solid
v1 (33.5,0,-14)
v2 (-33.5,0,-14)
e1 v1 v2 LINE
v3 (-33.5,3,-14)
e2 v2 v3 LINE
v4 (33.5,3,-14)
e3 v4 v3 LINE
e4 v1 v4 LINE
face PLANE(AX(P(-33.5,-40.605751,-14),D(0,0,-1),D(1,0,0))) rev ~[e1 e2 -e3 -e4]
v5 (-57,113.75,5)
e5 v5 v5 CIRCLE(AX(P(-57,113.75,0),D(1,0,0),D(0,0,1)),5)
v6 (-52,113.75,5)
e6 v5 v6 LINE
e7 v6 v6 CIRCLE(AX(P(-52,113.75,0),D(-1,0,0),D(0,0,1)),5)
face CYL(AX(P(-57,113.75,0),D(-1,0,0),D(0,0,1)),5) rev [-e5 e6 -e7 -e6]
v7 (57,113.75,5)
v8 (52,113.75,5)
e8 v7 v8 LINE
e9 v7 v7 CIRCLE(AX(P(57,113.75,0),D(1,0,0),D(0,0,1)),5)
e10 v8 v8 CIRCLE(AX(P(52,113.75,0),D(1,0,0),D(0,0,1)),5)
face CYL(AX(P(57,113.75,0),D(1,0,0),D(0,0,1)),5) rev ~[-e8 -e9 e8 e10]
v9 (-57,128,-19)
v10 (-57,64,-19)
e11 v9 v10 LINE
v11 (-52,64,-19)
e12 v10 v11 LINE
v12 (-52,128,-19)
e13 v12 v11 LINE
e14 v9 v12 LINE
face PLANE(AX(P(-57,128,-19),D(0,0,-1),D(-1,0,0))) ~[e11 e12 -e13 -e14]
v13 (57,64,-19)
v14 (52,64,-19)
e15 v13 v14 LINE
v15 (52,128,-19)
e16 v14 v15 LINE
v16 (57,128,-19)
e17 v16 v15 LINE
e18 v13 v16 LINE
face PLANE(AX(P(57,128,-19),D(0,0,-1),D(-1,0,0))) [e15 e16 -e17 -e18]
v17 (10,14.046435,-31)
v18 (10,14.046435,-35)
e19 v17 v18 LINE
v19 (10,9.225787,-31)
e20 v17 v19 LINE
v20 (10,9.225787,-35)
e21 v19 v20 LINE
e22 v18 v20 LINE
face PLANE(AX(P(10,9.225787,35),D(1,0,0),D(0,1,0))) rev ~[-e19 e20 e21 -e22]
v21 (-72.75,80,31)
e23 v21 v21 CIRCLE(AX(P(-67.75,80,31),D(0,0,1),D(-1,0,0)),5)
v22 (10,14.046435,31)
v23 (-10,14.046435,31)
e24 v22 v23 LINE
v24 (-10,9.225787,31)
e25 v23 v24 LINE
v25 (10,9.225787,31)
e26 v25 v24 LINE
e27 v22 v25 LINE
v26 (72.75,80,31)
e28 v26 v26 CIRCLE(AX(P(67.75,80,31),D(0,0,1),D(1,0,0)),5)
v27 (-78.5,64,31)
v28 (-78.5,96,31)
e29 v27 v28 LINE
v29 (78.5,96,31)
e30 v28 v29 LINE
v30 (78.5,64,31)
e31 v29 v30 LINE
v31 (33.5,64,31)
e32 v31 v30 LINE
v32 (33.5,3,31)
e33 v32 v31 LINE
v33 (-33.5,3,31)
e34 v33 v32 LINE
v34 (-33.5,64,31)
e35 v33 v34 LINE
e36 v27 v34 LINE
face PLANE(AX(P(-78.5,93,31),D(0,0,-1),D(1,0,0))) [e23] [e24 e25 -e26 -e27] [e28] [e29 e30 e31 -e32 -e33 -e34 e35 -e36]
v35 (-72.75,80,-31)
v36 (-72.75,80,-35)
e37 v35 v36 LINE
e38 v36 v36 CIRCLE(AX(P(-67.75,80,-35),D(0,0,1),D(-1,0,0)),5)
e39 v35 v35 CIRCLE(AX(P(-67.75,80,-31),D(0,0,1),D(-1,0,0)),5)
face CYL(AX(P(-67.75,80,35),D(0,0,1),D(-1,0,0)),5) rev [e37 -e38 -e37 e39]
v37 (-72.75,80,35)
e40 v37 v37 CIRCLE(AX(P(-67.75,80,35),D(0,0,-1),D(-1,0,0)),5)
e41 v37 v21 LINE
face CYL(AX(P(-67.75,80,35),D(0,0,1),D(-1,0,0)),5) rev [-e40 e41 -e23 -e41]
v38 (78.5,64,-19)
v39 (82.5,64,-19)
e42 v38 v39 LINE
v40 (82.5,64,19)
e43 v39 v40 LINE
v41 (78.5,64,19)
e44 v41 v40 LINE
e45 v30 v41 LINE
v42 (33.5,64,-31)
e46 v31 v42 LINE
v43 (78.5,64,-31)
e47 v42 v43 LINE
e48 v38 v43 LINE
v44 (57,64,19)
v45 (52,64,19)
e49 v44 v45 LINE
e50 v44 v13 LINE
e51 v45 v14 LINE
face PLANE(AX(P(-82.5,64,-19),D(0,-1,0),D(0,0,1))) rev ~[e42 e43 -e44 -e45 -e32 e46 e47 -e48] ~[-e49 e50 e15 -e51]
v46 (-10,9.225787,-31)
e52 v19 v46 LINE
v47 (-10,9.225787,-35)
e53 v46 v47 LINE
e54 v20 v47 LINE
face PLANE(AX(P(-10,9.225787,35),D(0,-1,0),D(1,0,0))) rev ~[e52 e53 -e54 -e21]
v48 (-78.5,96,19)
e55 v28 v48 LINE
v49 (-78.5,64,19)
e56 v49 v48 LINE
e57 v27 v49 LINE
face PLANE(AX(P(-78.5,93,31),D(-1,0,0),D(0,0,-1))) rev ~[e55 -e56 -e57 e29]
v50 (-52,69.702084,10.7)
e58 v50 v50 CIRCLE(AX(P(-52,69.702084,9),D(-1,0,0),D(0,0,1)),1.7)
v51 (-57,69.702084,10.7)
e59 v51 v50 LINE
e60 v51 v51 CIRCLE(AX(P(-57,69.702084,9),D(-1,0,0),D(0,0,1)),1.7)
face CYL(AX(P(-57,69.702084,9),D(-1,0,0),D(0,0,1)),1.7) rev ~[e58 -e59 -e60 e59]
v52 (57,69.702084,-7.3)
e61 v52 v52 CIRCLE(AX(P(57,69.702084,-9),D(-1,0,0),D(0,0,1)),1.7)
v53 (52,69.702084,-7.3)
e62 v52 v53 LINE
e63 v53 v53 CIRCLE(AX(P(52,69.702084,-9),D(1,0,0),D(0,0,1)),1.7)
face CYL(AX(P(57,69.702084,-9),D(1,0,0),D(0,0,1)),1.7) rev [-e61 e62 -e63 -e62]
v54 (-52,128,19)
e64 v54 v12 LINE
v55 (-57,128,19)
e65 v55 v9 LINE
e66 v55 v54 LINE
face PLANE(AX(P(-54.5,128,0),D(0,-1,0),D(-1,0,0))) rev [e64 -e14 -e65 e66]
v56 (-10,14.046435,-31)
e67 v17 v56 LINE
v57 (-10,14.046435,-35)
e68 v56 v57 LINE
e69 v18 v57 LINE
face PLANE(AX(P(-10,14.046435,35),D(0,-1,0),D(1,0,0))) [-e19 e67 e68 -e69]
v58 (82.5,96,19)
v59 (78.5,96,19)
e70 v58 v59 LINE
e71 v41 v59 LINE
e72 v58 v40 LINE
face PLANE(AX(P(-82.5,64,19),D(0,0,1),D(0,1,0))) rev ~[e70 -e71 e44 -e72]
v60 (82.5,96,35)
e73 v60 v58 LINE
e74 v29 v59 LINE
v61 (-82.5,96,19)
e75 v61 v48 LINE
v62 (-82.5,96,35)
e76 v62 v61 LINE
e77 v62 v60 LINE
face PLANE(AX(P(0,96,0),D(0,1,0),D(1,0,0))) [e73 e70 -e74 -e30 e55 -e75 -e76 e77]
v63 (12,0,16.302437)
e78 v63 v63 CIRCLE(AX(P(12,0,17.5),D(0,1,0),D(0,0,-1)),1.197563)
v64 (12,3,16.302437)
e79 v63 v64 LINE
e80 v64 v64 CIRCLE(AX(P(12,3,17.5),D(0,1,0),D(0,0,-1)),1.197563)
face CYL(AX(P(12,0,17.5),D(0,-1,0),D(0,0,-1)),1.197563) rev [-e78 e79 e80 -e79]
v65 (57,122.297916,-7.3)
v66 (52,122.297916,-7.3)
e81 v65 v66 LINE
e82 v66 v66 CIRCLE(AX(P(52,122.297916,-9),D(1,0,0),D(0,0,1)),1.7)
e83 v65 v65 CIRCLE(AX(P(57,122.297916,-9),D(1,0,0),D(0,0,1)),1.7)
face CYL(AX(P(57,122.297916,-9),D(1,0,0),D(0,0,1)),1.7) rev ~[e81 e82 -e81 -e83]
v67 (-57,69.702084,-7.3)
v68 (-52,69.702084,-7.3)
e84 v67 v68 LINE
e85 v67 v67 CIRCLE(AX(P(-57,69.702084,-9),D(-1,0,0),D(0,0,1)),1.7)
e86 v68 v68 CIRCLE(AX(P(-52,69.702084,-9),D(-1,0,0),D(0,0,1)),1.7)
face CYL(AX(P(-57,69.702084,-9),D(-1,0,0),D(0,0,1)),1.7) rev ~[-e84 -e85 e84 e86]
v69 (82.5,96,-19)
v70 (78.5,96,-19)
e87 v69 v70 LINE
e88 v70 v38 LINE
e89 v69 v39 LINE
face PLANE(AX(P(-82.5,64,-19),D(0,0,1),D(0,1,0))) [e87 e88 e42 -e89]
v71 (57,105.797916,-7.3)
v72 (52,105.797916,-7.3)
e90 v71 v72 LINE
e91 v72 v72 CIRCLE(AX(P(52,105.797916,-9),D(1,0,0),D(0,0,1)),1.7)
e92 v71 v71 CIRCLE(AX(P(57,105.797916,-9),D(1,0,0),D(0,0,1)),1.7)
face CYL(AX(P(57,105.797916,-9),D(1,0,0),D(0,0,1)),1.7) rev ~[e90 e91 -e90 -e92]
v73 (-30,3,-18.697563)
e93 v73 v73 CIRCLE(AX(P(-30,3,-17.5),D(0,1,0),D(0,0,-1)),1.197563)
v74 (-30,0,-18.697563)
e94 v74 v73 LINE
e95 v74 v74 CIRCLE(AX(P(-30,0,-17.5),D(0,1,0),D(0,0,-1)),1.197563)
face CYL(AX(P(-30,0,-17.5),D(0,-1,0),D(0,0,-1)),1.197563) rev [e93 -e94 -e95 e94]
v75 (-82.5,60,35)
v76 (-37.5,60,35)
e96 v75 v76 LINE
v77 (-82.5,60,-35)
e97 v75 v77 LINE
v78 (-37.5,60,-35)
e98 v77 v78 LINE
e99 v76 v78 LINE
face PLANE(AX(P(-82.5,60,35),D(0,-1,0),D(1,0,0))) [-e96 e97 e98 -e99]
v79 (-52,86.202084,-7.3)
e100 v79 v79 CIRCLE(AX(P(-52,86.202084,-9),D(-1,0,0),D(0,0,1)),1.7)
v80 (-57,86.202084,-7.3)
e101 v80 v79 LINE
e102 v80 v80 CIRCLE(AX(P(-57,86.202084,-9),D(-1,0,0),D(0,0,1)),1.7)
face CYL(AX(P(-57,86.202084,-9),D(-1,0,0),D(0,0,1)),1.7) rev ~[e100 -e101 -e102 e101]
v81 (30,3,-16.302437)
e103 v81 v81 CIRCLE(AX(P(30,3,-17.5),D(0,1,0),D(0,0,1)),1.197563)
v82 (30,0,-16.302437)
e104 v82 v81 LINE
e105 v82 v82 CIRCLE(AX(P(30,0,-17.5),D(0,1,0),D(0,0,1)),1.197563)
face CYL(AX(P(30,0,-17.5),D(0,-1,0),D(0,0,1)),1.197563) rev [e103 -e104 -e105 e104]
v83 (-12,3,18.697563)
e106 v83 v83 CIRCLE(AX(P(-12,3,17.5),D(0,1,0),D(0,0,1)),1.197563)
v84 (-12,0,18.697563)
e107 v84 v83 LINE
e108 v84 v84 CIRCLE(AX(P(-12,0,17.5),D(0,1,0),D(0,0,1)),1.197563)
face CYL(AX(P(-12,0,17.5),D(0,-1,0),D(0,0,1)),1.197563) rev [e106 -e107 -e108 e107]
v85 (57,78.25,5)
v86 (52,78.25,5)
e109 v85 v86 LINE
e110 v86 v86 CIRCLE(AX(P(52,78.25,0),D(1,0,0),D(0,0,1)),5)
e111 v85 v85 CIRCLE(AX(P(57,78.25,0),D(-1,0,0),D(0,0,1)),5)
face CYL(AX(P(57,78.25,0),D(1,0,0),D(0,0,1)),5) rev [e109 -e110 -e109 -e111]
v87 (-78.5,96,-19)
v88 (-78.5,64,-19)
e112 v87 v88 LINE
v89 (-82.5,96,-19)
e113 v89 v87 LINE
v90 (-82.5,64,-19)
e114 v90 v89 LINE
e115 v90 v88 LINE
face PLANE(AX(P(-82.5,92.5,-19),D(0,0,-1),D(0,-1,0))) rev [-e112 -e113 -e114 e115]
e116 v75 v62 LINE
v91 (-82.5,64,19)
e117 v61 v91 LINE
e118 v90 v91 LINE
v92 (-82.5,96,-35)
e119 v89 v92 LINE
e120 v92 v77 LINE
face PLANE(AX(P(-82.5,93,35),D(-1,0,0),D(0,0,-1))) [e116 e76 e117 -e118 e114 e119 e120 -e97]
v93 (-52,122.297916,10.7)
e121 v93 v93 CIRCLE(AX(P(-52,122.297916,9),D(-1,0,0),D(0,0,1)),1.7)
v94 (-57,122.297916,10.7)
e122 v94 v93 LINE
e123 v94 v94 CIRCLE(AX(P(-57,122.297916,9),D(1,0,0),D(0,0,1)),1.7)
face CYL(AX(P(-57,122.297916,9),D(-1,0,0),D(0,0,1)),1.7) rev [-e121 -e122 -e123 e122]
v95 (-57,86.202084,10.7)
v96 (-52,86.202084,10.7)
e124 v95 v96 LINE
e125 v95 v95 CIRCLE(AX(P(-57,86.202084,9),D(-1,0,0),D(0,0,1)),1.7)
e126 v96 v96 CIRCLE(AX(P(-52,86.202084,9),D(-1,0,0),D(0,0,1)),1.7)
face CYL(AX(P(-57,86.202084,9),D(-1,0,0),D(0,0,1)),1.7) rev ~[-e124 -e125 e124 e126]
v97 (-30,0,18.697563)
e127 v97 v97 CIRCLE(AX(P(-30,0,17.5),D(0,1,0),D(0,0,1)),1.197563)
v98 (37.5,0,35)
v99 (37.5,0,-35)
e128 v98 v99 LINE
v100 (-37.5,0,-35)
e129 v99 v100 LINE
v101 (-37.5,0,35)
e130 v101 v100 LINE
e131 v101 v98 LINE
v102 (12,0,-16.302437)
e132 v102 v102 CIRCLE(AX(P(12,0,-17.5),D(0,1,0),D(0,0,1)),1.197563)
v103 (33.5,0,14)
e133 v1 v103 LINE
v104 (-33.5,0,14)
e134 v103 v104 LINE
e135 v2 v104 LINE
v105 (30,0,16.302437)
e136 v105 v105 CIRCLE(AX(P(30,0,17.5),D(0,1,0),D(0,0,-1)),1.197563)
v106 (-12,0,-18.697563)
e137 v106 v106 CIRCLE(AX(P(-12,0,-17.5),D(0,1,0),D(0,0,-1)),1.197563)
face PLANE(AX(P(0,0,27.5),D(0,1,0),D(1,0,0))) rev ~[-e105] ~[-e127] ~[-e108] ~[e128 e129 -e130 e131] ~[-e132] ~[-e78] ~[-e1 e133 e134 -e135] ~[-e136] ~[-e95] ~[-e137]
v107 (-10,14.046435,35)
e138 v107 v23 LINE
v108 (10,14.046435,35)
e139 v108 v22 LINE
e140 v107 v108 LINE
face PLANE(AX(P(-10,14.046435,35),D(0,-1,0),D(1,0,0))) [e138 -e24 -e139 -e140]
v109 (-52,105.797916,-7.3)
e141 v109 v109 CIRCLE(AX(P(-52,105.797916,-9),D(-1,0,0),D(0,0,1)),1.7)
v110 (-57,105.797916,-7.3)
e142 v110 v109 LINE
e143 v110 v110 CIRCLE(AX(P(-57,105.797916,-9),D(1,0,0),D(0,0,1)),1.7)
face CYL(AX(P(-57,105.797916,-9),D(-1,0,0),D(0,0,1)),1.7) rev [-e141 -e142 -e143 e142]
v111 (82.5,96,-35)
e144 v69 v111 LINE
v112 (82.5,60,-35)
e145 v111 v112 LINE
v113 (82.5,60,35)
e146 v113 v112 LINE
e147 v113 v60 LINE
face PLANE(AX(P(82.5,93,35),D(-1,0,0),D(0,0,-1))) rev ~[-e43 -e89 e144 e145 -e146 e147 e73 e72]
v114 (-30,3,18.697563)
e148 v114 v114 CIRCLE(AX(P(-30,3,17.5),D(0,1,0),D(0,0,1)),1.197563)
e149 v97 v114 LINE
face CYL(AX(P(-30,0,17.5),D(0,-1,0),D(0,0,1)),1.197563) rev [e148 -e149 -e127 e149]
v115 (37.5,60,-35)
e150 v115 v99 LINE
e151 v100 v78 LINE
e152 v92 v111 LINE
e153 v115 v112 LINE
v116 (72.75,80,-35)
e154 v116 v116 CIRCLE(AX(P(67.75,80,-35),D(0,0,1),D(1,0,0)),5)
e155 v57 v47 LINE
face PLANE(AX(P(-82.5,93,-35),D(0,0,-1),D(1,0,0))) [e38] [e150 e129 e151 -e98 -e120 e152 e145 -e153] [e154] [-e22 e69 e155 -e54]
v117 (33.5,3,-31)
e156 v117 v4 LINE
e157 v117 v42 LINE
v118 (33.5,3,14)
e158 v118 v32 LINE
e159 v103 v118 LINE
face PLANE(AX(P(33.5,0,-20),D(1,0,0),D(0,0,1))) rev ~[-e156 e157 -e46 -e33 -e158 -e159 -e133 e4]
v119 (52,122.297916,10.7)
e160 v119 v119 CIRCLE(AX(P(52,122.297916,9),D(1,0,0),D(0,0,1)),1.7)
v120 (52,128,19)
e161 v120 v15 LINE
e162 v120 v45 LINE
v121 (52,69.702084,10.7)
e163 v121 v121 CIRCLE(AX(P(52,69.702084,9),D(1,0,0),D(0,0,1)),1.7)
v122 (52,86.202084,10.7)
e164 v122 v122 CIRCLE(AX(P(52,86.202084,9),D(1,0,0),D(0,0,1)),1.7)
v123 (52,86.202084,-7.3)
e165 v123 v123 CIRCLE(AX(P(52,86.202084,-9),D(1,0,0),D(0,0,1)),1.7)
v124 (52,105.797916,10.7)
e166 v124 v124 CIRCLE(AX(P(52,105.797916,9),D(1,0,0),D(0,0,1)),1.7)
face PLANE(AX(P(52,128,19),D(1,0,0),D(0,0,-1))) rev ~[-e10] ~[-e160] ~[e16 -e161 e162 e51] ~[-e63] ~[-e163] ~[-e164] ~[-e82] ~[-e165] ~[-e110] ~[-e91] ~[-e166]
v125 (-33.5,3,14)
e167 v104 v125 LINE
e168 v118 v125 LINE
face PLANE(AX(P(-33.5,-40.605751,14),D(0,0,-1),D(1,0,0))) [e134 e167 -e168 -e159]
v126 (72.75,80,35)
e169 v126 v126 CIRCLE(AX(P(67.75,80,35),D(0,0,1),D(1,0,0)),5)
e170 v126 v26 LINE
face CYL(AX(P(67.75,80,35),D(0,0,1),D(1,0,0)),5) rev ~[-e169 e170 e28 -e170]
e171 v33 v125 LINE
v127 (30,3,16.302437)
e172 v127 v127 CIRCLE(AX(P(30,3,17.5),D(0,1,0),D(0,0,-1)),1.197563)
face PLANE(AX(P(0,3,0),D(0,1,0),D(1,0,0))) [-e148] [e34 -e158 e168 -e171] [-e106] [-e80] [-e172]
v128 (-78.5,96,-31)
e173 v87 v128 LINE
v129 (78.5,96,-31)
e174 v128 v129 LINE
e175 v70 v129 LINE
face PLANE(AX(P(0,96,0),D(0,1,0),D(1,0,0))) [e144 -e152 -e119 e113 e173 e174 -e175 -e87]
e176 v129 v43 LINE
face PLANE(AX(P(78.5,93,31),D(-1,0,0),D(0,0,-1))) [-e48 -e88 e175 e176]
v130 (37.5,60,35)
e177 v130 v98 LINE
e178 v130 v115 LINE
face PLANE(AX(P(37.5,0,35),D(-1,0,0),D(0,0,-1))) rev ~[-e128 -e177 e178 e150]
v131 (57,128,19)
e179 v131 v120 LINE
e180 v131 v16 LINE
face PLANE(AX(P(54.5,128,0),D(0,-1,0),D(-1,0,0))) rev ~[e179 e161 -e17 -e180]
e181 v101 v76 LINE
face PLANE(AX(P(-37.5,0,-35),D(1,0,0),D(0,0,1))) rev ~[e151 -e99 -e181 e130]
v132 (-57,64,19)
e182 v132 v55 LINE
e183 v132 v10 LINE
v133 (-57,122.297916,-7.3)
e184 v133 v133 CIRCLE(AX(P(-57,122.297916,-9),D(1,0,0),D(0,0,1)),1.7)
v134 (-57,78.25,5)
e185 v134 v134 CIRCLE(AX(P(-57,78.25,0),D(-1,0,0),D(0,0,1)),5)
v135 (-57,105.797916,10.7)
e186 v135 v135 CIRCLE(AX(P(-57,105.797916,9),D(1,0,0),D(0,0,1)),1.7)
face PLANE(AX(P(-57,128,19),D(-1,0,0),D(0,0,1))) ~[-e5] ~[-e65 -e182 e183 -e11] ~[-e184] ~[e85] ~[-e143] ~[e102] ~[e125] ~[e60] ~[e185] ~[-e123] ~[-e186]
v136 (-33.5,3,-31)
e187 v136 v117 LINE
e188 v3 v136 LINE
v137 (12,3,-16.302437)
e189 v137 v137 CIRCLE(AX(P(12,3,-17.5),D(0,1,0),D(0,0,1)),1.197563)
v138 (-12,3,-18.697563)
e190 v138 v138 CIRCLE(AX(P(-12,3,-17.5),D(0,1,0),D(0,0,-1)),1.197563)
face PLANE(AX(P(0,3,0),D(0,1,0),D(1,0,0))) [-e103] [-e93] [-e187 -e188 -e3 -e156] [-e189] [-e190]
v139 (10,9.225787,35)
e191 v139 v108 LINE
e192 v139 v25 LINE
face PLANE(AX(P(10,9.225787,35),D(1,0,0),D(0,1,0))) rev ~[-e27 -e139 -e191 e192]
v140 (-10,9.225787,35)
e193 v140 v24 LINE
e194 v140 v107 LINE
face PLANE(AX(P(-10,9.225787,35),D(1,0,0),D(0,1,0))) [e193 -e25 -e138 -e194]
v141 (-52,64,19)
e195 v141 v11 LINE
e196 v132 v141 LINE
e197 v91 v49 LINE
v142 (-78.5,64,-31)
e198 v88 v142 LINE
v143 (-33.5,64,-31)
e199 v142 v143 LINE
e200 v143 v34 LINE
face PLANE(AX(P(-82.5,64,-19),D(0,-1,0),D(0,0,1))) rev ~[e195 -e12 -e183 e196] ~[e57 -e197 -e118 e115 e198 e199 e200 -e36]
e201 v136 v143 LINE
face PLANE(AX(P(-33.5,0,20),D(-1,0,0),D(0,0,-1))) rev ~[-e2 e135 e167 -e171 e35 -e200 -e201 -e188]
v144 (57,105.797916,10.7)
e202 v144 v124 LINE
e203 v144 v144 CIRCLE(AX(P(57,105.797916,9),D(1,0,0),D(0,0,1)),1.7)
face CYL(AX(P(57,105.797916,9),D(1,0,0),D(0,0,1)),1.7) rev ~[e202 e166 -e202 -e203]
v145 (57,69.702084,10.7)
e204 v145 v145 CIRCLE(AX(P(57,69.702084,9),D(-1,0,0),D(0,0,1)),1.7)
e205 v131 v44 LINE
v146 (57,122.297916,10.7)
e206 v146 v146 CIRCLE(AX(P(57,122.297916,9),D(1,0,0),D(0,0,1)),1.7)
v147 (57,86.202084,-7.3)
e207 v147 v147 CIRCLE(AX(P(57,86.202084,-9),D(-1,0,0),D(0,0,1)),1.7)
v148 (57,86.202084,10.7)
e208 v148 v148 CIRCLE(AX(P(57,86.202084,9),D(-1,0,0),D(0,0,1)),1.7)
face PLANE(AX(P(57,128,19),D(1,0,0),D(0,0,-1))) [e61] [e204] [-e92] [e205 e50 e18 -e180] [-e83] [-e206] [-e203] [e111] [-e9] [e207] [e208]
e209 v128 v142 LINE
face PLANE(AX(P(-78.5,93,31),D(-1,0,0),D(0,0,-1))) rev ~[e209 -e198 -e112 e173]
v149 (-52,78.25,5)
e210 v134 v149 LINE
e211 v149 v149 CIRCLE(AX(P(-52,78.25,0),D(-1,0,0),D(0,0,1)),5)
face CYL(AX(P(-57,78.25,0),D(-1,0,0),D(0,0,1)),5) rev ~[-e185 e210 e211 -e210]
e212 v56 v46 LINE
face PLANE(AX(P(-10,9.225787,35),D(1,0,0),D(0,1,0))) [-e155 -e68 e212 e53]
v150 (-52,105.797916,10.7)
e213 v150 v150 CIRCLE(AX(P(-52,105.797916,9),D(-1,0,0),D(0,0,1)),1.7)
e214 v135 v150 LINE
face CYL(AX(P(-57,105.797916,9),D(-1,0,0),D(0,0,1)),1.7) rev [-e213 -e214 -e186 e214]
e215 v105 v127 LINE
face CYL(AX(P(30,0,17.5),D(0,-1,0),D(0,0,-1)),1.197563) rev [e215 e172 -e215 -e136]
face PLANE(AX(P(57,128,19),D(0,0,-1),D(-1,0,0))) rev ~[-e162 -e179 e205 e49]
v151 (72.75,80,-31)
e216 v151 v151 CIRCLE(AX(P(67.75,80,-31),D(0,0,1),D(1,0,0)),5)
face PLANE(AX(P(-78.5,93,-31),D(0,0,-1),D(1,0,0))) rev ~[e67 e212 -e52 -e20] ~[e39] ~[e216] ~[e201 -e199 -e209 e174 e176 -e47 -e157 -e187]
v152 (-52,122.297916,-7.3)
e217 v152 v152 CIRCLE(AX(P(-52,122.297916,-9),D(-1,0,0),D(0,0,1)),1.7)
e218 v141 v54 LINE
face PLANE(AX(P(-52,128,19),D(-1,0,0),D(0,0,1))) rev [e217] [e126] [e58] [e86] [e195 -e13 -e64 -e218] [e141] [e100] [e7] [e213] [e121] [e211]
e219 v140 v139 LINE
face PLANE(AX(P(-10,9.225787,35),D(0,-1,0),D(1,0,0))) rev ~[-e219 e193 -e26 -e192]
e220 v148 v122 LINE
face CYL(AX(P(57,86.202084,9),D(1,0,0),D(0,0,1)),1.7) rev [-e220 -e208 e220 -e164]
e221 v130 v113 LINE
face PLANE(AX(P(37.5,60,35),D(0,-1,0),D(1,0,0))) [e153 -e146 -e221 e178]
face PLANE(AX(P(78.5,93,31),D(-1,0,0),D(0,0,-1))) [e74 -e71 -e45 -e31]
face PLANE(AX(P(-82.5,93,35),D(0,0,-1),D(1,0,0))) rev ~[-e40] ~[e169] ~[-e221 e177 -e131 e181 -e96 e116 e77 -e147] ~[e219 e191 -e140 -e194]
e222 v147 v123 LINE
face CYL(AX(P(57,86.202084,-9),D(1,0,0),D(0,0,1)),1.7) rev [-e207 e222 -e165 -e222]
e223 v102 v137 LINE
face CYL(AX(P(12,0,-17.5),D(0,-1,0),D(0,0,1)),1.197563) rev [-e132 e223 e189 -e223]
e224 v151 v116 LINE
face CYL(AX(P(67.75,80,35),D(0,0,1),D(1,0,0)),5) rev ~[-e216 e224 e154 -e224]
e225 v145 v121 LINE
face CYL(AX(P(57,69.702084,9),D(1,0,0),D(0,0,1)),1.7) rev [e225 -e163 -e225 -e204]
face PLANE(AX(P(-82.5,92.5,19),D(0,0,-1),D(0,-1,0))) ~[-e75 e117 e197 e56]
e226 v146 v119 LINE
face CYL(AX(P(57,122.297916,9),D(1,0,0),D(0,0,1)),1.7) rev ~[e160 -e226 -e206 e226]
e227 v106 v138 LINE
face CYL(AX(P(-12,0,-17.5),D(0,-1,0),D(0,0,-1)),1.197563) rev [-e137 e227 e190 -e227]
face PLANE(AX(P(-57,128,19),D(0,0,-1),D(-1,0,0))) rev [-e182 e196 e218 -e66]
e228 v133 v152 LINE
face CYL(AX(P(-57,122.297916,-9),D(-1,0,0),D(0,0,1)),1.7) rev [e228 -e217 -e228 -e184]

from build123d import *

# Parameters (mm, degrees)
SKETCH1_W                 = 75
SKETCH1_H                 = 40
SKETCH1_R                 = 5
SKETCH1_R_2               = 1.7
SKETCH1_R_3               = 1.197563381
SKETCH1_W_2               = 5
SKETCH1_H_2               = 20
BOSS_EXTRUDE1_DEPTH       = 3
CUT_EXTRUDE1_DEPTH        = 43.605750786
CUT_EXTRUDE1_DEPTH_BACK   = 43.605750786
SKETCH2_W                 = 67
SKETCH2_H                 = 28
BOSS_EXTRUDE3_DEPTH       = 90
BOSS_EXTRUDE3_DEPTH_BACK  = 3
SKETCH6_W                 = 67
SKETCH6_H                 = 11
CUT_EXTRUDE4_DEPTH        = 104.591746776
SKETCH7_W                 = 70
SKETCH7_H                 = 37
BOSS_EXTRUDE4_DEPTH       = 45
SKETCH8_W                 = 45
SKETCH8_H                 = 62
CUT_EXTRUDE6_DEPTH        = 29
SKETCH11_W                = 45
SKETCH11_H                = 4
CUT_EXTRUDE9_DEPTH        = 143.671826231
SKETCH9_W                 = 38
SKETCH9_H                 = 28.5
CUT_EXTRUDE10_DEPTH       = 193.611006954
SKETCH13_W                = 5
SKETCH13_H                = 38
BOSS_EXTRUDE5_DEPTH       = 32
SKETCH14_R                = 5
SKETCH14_R_2              = 1.7
CUT_EXTRUDE11_DEPTH       = 32
SKETCH15_W                = 165
SKETCH15_H                = 70
SKETCH15_W_2              = 157
SKETCH15_H_2              = 62
BOSS_EXTRUDE6_DEPTH       = 3
SKETCH16_W                = 20
SKETCH16_H                = 4.820648258
CUT_EXTRUDE12_DEPTH       = 145.645255712
SKETCH18_R                = 5
CUT_EXTRUDE14_DEPTH       = 145.645255712
MIRROR6_COPY_1_SKETCH_W   = 5
MIRROR6_COPY_1_SKETCH_H   = 38
MIRROR6_COPY_1_DEPTH      = 32
MIRROR6_COPY_2_SKETCH_R   = 5
MIRROR6_COPY_2_SKETCH_R_2 = 1.7
MIRROR6_COPY_2_DEPTH      = 32
SKETCH19_W                = 38
SKETCH19_H                = 3.5
CUT_EXTRUDE15_DEPTH       = 10


with BuildPart() as part:
    # Sketch1 → Boss-Extrude1 (new body)
    with BuildSketch(Plane(origin=(0, 0, 0), x_dir=(1, 0, 0), z_dir=(0, 1, 0))):
        Rectangle(SKETCH1_W, SKETCH1_H)
        with Locations(Location((-21, 0, 0), (0, 0, 270))):
            Circle(SKETCH1_R, mode=Mode.SUBTRACT)
        with Locations(Location((-30, 8.25, 0), (0, 0, 270))):
            Circle(SKETCH1_R_2, mode=Mode.SUBTRACT)
        with Locations(Location((-12, 8.25, 0), (0, 0, 270))):
            Circle(SKETCH1_R_2, mode=Mode.SUBTRACT)
        with Locations(Location((-12, -8.25, 0), (0, 0, 270))):
            Circle(SKETCH1_R_2, mode=Mode.SUBTRACT)
        with Locations(Location((-30, -8.25, 0), (0, 0, 270))):
            Circle(SKETCH1_R_2, mode=Mode.SUBTRACT)
        with Locations(Location((12, 8.25, 0), (0, 0, 90))):
            Circle(SKETCH1_R_2, mode=Mode.SUBTRACT)
        with Locations(Location((12, -8.25, 0), (0, 0, 90))):
            Circle(SKETCH1_R_2, mode=Mode.SUBTRACT)
        with Locations(Location((21, 0, 0), (0, 0, 90))):
            Circle(SKETCH1_R, mode=Mode.SUBTRACT)
        with Locations(Location((30, -8.25, 0), (0, 0, 90))):
            Circle(SKETCH1_R_2, mode=Mode.SUBTRACT)
        with Locations(Location((30, 8.25, 0), (0, 0, 90))):
            Circle(SKETCH1_R_2, mode=Mode.SUBTRACT)
        with Locations(Location((-30, -17.5, 0), (0, 0, 270))):
            Circle(SKETCH1_R_3, mode=Mode.SUBTRACT)
        with Locations(Location((-12, -17.5, 0), (0, 0, 270))):
            Circle(SKETCH1_R_3, mode=Mode.SUBTRACT)
        with Locations(Location((12, -17.5, 0), (0, 0, 90))):
            Circle(SKETCH1_R_3, mode=Mode.SUBTRACT)
        with Locations(Location((30, -17.5, 0), (0, 0, 90))):
            Circle(SKETCH1_R_3, mode=Mode.SUBTRACT)
        with Locations(Location((30, 17.5, 0), (0, 0, 270))):
            Circle(SKETCH1_R_3, mode=Mode.SUBTRACT)
        with Locations(Location((12, 17.5, 0), (0, 0, 270))):
            Circle(SKETCH1_R_3, mode=Mode.SUBTRACT)
        with Locations(Location((-12, 17.5, 0), (0, 0, 90))):
            Circle(SKETCH1_R_3, mode=Mode.SUBTRACT)
        with Locations(Location((-30, 17.5, 0), (0, 0, 90))):
            Circle(SKETCH1_R_3, mode=Mode.SUBTRACT)
        Rectangle(SKETCH1_W_2, SKETCH1_H_2, mode=Mode.SUBTRACT)
    extrude(amount=BOSS_EXTRUDE1_DEPTH)

    # Sketch2 → Cut-Extrude1 (cut, two sides: drawn at the far end of the back side and taken through both)
    with BuildSketch(Plane(origin=(0, 3, 0), x_dir=(1, 0, 0), z_dir=(0, 1, 0)).offset(-CUT_EXTRUDE1_DEPTH_BACK)):
        Rectangle(SKETCH2_W, SKETCH2_H)
    extrude(amount=CUT_EXTRUDE1_DEPTH + CUT_EXTRUDE1_DEPTH_BACK, mode=Mode.SUBTRACT)

    # Sketch3 → Boss-Extrude3 (add, two sides: drawn at the far end of the back side and taken through both)
    with BuildSketch(Plane(origin=(0, 3, 0), x_dir=(1, 0, 0), z_dir=(0, 1, 0)).offset(-BOSS_EXTRUDE3_DEPTH_BACK)):
        Polygon((37.5, -35), (37.5, -20), (33.5, -20), (-33.5, -20), (-37.5, -20), (-37.5, -35), align=None)
        Polygon((33.5, 20), (37.5, 20), (37.5, 35), (-37.5, 35), (-37.5, 20), (-33.5, 20), align=None)
        Polygon((37.5, -20), (37.5, 20), (33.5, 20), (33.5, 14), (33.5, -14), (33.5, -20), align=None)
        Polygon((-33.5, 14), (-33.5, 20), (-37.5, 20), (-37.5, -20), (-33.5, -20), (-33.5, -14), align=None)
    extrude(amount=BOSS_EXTRUDE3_DEPTH + BOSS_EXTRUDE3_DEPTH_BACK)

    # Sketch6 → Cut-Extrude4 (cut, through all)
    with BuildSketch(Plane(origin=(0, 3, 0), x_dir=(1, 0, 0), z_dir=(0, 1, 0))):
        with Locations((0, -25.5)):
            Rectangle(SKETCH6_W, SKETCH6_H)
        with Locations((0, 25.5)):
            Rectangle(SKETCH6_W, SKETCH6_H)
    extrude(amount=CUT_EXTRUDE4_DEPTH, mode=Mode.SUBTRACT)

    # Sketch7 → Boss-Extrude4 (add)
    with BuildSketch(Plane.ZY.offset(37.5)):
        with Locations((0, 74.5)):
            Rectangle(SKETCH7_W, SKETCH7_H)
    boss_extrude4 = extrude(amount=BOSS_EXTRUDE4_DEPTH)

    # Mirror2: Boss-Extrude4 across plane
    add(boss_extrude4.mirror(Plane(origin=(0, 0, 0), x_dir=(0, 0, 1), z_dir=(1, 0, 0))))

    # Sketch8 → Cut-Extrude6 (cut)
    with BuildSketch(Plane(origin=(0, 93, 0), x_dir=(1, 0, 0), z_dir=(0, 1, 0))):
        with Locations((-56, 0)):
            Rectangle(SKETCH8_W, SKETCH8_H)
        with Locations((56, 0)):
            Rectangle(SKETCH8_W, SKETCH8_H)
    extrude(amount=-CUT_EXTRUDE6_DEPTH, mode=Mode.SUBTRACT)

    # Sketch11 → Cut-Extrude9 (cut, through all)
    with BuildSketch(Plane.XY.offset(35)):
        with Locations((-60, 58)):
            Rectangle(SKETCH11_W, SKETCH11_H)
        with Locations((60, 58)):
            Rectangle(SKETCH11_W, SKETCH11_H)
    extrude(amount=-CUT_EXTRUDE9_DEPTH, mode=Mode.SUBTRACT)

    # Sketch9 → Cut-Extrude10 (cut, through all)
    with BuildSketch(Plane.ZY.offset(82.5)):
        with Locations((0, 78.25)):
            Rectangle(SKETCH9_W, SKETCH9_H)
    extrude(amount=-CUT_EXTRUDE10_DEPTH, mode=Mode.SUBTRACT)

    # Sketch13 → Boss-Extrude5 (add)
    with BuildSketch(Plane(origin=(0, 64, 0), x_dir=(1, 0, 0), z_dir=(0, 1, 0))):
        with Locations((-54.5, 0)):
            Rectangle(SKETCH13_W, SKETCH13_H)
    boss_extrude5 = extrude(amount=BOSS_EXTRUDE5_DEPTH)

    # Sketch14 → Cut-Extrude11 (cut)
    with BuildSketch(Plane.ZY.offset(57)):
        with Locations((0, 78.25)):
            Circle(SKETCH14_R)
        with Locations((-9, 86.202083543)):
            Circle(SKETCH14_R_2)
        with Locations((9, 86.202083543)):
            Circle(SKETCH14_R_2)
        with Locations((9, 69.702083543)):
            Circle(SKETCH14_R_2)
        with Locations((-9, 69.702083543)):
            Circle(SKETCH14_R_2)
    cut_extrude11 = extrude(amount=-CUT_EXTRUDE11_DEPTH, mode=Mode.SUBTRACT)

    # Mirror4: Boss-Extrude5, Cut-Extrude11 across plane
    add(boss_extrude5.mirror(Plane(origin=(0, 0, 0), x_dir=(0, 0, 1), z_dir=(1, 0, 0))))
    add(cut_extrude11.mirror(Plane(origin=(0, 0, 0), x_dir=(0, 0, 1), z_dir=(1, 0, 0))), mode=Mode.SUBTRACT)

    # Sketch15 → Boss-Extrude6 (add)
    with BuildSketch(Plane(origin=(0, 93, 0), x_dir=(1, 0, 0), z_dir=(0, 1, 0))):
        Rectangle(SKETCH15_W, SKETCH15_H)
        Rectangle(SKETCH15_W_2, SKETCH15_H_2, mode=Mode.SUBTRACT)
    extrude(amount=BOSS_EXTRUDE6_DEPTH)

    # Sketch16 → Cut-Extrude12 (cut, through all)
    with BuildSketch(Plane.XY.offset(35)):
        with Locations((0, 11.636111214)):
            Rectangle(SKETCH16_W, SKETCH16_H)
    extrude(amount=-CUT_EXTRUDE12_DEPTH, mode=Mode.SUBTRACT)

    # Sketch18 → Cut-Extrude14 (cut, through all)
    with BuildSketch(Plane.XY.offset(35)):
        with Locations((67.75, 80)):
            Circle(SKETCH18_R)
    cut_extrude14 = extrude(amount=-CUT_EXTRUDE14_DEPTH, mode=Mode.SUBTRACT)

    # Mirror5: Cut-Extrude14 across plane
    add(cut_extrude14.mirror(Plane(origin=(0, 0, 0), x_dir=(0, 0, 1), z_dir=(1, 0, 0))), mode=Mode.SUBTRACT)

    # Mirror6: Boss-Extrude5, Cut-Extrude11 across plane
    add(boss_extrude5.mirror(Plane.ZX.offset(96)))
    add(cut_extrude11.mirror(Plane.ZX.offset(96)), mode=Mode.SUBTRACT)

    # Mirror6 copy 1 sketch → Mirror6 copy 1 (add)
    with BuildSketch(Plane(origin=(0, 128, 0), x_dir=(-1, 0, 0), z_dir=(0, -1, 0))):
        with Locations((-54.5, 0)):
            Rectangle(MIRROR6_COPY_1_SKETCH_W, MIRROR6_COPY_1_SKETCH_H)
    extrude(amount=MIRROR6_COPY_1_DEPTH)

    # Mirror6 copy 2 sketch → Mirror6 copy 2 (cut)
    with BuildSketch(Plane(origin=(57, 192, 0), x_dir=(0, 0, 1), z_dir=(1, 0, 0))):
        with Locations((0, 78.25)):
            Circle(MIRROR6_COPY_2_SKETCH_R)
        with Locations((-9, 86.202083543)):
            Circle(MIRROR6_COPY_2_SKETCH_R_2)
        with Locations((9, 86.202083543)):
            Circle(MIRROR6_COPY_2_SKETCH_R_2)
        with Locations((9, 69.702083543)):
            Circle(MIRROR6_COPY_2_SKETCH_R_2)
        with Locations((-9, 69.702083543)):
            Circle(MIRROR6_COPY_2_SKETCH_R_2)
    extrude(amount=-MIRROR6_COPY_2_DEPTH, mode=Mode.SUBTRACT)

    # Sketch19 → Cut-Extrude15 (cut)
    with BuildSketch(Plane(origin=(82.5, 0, 0), x_dir=(0, 0, -1), z_dir=(1, 0, 0))):
        with Locations((0, 94.25)):
            Rectangle(SKETCH19_W, SKETCH19_H)
    cut_extrude15 = extrude(amount=-CUT_EXTRUDE15_DEPTH, mode=Mode.SUBTRACT)

    # Mirror7: Cut-Extrude15 across plane
    add(cut_extrude15.mirror(Plane(origin=(0, 0, 0), x_dir=(0, 0, 1), z_dir=(1, 0, 0))), mode=Mode.SUBTRACT)


solid = part.part
